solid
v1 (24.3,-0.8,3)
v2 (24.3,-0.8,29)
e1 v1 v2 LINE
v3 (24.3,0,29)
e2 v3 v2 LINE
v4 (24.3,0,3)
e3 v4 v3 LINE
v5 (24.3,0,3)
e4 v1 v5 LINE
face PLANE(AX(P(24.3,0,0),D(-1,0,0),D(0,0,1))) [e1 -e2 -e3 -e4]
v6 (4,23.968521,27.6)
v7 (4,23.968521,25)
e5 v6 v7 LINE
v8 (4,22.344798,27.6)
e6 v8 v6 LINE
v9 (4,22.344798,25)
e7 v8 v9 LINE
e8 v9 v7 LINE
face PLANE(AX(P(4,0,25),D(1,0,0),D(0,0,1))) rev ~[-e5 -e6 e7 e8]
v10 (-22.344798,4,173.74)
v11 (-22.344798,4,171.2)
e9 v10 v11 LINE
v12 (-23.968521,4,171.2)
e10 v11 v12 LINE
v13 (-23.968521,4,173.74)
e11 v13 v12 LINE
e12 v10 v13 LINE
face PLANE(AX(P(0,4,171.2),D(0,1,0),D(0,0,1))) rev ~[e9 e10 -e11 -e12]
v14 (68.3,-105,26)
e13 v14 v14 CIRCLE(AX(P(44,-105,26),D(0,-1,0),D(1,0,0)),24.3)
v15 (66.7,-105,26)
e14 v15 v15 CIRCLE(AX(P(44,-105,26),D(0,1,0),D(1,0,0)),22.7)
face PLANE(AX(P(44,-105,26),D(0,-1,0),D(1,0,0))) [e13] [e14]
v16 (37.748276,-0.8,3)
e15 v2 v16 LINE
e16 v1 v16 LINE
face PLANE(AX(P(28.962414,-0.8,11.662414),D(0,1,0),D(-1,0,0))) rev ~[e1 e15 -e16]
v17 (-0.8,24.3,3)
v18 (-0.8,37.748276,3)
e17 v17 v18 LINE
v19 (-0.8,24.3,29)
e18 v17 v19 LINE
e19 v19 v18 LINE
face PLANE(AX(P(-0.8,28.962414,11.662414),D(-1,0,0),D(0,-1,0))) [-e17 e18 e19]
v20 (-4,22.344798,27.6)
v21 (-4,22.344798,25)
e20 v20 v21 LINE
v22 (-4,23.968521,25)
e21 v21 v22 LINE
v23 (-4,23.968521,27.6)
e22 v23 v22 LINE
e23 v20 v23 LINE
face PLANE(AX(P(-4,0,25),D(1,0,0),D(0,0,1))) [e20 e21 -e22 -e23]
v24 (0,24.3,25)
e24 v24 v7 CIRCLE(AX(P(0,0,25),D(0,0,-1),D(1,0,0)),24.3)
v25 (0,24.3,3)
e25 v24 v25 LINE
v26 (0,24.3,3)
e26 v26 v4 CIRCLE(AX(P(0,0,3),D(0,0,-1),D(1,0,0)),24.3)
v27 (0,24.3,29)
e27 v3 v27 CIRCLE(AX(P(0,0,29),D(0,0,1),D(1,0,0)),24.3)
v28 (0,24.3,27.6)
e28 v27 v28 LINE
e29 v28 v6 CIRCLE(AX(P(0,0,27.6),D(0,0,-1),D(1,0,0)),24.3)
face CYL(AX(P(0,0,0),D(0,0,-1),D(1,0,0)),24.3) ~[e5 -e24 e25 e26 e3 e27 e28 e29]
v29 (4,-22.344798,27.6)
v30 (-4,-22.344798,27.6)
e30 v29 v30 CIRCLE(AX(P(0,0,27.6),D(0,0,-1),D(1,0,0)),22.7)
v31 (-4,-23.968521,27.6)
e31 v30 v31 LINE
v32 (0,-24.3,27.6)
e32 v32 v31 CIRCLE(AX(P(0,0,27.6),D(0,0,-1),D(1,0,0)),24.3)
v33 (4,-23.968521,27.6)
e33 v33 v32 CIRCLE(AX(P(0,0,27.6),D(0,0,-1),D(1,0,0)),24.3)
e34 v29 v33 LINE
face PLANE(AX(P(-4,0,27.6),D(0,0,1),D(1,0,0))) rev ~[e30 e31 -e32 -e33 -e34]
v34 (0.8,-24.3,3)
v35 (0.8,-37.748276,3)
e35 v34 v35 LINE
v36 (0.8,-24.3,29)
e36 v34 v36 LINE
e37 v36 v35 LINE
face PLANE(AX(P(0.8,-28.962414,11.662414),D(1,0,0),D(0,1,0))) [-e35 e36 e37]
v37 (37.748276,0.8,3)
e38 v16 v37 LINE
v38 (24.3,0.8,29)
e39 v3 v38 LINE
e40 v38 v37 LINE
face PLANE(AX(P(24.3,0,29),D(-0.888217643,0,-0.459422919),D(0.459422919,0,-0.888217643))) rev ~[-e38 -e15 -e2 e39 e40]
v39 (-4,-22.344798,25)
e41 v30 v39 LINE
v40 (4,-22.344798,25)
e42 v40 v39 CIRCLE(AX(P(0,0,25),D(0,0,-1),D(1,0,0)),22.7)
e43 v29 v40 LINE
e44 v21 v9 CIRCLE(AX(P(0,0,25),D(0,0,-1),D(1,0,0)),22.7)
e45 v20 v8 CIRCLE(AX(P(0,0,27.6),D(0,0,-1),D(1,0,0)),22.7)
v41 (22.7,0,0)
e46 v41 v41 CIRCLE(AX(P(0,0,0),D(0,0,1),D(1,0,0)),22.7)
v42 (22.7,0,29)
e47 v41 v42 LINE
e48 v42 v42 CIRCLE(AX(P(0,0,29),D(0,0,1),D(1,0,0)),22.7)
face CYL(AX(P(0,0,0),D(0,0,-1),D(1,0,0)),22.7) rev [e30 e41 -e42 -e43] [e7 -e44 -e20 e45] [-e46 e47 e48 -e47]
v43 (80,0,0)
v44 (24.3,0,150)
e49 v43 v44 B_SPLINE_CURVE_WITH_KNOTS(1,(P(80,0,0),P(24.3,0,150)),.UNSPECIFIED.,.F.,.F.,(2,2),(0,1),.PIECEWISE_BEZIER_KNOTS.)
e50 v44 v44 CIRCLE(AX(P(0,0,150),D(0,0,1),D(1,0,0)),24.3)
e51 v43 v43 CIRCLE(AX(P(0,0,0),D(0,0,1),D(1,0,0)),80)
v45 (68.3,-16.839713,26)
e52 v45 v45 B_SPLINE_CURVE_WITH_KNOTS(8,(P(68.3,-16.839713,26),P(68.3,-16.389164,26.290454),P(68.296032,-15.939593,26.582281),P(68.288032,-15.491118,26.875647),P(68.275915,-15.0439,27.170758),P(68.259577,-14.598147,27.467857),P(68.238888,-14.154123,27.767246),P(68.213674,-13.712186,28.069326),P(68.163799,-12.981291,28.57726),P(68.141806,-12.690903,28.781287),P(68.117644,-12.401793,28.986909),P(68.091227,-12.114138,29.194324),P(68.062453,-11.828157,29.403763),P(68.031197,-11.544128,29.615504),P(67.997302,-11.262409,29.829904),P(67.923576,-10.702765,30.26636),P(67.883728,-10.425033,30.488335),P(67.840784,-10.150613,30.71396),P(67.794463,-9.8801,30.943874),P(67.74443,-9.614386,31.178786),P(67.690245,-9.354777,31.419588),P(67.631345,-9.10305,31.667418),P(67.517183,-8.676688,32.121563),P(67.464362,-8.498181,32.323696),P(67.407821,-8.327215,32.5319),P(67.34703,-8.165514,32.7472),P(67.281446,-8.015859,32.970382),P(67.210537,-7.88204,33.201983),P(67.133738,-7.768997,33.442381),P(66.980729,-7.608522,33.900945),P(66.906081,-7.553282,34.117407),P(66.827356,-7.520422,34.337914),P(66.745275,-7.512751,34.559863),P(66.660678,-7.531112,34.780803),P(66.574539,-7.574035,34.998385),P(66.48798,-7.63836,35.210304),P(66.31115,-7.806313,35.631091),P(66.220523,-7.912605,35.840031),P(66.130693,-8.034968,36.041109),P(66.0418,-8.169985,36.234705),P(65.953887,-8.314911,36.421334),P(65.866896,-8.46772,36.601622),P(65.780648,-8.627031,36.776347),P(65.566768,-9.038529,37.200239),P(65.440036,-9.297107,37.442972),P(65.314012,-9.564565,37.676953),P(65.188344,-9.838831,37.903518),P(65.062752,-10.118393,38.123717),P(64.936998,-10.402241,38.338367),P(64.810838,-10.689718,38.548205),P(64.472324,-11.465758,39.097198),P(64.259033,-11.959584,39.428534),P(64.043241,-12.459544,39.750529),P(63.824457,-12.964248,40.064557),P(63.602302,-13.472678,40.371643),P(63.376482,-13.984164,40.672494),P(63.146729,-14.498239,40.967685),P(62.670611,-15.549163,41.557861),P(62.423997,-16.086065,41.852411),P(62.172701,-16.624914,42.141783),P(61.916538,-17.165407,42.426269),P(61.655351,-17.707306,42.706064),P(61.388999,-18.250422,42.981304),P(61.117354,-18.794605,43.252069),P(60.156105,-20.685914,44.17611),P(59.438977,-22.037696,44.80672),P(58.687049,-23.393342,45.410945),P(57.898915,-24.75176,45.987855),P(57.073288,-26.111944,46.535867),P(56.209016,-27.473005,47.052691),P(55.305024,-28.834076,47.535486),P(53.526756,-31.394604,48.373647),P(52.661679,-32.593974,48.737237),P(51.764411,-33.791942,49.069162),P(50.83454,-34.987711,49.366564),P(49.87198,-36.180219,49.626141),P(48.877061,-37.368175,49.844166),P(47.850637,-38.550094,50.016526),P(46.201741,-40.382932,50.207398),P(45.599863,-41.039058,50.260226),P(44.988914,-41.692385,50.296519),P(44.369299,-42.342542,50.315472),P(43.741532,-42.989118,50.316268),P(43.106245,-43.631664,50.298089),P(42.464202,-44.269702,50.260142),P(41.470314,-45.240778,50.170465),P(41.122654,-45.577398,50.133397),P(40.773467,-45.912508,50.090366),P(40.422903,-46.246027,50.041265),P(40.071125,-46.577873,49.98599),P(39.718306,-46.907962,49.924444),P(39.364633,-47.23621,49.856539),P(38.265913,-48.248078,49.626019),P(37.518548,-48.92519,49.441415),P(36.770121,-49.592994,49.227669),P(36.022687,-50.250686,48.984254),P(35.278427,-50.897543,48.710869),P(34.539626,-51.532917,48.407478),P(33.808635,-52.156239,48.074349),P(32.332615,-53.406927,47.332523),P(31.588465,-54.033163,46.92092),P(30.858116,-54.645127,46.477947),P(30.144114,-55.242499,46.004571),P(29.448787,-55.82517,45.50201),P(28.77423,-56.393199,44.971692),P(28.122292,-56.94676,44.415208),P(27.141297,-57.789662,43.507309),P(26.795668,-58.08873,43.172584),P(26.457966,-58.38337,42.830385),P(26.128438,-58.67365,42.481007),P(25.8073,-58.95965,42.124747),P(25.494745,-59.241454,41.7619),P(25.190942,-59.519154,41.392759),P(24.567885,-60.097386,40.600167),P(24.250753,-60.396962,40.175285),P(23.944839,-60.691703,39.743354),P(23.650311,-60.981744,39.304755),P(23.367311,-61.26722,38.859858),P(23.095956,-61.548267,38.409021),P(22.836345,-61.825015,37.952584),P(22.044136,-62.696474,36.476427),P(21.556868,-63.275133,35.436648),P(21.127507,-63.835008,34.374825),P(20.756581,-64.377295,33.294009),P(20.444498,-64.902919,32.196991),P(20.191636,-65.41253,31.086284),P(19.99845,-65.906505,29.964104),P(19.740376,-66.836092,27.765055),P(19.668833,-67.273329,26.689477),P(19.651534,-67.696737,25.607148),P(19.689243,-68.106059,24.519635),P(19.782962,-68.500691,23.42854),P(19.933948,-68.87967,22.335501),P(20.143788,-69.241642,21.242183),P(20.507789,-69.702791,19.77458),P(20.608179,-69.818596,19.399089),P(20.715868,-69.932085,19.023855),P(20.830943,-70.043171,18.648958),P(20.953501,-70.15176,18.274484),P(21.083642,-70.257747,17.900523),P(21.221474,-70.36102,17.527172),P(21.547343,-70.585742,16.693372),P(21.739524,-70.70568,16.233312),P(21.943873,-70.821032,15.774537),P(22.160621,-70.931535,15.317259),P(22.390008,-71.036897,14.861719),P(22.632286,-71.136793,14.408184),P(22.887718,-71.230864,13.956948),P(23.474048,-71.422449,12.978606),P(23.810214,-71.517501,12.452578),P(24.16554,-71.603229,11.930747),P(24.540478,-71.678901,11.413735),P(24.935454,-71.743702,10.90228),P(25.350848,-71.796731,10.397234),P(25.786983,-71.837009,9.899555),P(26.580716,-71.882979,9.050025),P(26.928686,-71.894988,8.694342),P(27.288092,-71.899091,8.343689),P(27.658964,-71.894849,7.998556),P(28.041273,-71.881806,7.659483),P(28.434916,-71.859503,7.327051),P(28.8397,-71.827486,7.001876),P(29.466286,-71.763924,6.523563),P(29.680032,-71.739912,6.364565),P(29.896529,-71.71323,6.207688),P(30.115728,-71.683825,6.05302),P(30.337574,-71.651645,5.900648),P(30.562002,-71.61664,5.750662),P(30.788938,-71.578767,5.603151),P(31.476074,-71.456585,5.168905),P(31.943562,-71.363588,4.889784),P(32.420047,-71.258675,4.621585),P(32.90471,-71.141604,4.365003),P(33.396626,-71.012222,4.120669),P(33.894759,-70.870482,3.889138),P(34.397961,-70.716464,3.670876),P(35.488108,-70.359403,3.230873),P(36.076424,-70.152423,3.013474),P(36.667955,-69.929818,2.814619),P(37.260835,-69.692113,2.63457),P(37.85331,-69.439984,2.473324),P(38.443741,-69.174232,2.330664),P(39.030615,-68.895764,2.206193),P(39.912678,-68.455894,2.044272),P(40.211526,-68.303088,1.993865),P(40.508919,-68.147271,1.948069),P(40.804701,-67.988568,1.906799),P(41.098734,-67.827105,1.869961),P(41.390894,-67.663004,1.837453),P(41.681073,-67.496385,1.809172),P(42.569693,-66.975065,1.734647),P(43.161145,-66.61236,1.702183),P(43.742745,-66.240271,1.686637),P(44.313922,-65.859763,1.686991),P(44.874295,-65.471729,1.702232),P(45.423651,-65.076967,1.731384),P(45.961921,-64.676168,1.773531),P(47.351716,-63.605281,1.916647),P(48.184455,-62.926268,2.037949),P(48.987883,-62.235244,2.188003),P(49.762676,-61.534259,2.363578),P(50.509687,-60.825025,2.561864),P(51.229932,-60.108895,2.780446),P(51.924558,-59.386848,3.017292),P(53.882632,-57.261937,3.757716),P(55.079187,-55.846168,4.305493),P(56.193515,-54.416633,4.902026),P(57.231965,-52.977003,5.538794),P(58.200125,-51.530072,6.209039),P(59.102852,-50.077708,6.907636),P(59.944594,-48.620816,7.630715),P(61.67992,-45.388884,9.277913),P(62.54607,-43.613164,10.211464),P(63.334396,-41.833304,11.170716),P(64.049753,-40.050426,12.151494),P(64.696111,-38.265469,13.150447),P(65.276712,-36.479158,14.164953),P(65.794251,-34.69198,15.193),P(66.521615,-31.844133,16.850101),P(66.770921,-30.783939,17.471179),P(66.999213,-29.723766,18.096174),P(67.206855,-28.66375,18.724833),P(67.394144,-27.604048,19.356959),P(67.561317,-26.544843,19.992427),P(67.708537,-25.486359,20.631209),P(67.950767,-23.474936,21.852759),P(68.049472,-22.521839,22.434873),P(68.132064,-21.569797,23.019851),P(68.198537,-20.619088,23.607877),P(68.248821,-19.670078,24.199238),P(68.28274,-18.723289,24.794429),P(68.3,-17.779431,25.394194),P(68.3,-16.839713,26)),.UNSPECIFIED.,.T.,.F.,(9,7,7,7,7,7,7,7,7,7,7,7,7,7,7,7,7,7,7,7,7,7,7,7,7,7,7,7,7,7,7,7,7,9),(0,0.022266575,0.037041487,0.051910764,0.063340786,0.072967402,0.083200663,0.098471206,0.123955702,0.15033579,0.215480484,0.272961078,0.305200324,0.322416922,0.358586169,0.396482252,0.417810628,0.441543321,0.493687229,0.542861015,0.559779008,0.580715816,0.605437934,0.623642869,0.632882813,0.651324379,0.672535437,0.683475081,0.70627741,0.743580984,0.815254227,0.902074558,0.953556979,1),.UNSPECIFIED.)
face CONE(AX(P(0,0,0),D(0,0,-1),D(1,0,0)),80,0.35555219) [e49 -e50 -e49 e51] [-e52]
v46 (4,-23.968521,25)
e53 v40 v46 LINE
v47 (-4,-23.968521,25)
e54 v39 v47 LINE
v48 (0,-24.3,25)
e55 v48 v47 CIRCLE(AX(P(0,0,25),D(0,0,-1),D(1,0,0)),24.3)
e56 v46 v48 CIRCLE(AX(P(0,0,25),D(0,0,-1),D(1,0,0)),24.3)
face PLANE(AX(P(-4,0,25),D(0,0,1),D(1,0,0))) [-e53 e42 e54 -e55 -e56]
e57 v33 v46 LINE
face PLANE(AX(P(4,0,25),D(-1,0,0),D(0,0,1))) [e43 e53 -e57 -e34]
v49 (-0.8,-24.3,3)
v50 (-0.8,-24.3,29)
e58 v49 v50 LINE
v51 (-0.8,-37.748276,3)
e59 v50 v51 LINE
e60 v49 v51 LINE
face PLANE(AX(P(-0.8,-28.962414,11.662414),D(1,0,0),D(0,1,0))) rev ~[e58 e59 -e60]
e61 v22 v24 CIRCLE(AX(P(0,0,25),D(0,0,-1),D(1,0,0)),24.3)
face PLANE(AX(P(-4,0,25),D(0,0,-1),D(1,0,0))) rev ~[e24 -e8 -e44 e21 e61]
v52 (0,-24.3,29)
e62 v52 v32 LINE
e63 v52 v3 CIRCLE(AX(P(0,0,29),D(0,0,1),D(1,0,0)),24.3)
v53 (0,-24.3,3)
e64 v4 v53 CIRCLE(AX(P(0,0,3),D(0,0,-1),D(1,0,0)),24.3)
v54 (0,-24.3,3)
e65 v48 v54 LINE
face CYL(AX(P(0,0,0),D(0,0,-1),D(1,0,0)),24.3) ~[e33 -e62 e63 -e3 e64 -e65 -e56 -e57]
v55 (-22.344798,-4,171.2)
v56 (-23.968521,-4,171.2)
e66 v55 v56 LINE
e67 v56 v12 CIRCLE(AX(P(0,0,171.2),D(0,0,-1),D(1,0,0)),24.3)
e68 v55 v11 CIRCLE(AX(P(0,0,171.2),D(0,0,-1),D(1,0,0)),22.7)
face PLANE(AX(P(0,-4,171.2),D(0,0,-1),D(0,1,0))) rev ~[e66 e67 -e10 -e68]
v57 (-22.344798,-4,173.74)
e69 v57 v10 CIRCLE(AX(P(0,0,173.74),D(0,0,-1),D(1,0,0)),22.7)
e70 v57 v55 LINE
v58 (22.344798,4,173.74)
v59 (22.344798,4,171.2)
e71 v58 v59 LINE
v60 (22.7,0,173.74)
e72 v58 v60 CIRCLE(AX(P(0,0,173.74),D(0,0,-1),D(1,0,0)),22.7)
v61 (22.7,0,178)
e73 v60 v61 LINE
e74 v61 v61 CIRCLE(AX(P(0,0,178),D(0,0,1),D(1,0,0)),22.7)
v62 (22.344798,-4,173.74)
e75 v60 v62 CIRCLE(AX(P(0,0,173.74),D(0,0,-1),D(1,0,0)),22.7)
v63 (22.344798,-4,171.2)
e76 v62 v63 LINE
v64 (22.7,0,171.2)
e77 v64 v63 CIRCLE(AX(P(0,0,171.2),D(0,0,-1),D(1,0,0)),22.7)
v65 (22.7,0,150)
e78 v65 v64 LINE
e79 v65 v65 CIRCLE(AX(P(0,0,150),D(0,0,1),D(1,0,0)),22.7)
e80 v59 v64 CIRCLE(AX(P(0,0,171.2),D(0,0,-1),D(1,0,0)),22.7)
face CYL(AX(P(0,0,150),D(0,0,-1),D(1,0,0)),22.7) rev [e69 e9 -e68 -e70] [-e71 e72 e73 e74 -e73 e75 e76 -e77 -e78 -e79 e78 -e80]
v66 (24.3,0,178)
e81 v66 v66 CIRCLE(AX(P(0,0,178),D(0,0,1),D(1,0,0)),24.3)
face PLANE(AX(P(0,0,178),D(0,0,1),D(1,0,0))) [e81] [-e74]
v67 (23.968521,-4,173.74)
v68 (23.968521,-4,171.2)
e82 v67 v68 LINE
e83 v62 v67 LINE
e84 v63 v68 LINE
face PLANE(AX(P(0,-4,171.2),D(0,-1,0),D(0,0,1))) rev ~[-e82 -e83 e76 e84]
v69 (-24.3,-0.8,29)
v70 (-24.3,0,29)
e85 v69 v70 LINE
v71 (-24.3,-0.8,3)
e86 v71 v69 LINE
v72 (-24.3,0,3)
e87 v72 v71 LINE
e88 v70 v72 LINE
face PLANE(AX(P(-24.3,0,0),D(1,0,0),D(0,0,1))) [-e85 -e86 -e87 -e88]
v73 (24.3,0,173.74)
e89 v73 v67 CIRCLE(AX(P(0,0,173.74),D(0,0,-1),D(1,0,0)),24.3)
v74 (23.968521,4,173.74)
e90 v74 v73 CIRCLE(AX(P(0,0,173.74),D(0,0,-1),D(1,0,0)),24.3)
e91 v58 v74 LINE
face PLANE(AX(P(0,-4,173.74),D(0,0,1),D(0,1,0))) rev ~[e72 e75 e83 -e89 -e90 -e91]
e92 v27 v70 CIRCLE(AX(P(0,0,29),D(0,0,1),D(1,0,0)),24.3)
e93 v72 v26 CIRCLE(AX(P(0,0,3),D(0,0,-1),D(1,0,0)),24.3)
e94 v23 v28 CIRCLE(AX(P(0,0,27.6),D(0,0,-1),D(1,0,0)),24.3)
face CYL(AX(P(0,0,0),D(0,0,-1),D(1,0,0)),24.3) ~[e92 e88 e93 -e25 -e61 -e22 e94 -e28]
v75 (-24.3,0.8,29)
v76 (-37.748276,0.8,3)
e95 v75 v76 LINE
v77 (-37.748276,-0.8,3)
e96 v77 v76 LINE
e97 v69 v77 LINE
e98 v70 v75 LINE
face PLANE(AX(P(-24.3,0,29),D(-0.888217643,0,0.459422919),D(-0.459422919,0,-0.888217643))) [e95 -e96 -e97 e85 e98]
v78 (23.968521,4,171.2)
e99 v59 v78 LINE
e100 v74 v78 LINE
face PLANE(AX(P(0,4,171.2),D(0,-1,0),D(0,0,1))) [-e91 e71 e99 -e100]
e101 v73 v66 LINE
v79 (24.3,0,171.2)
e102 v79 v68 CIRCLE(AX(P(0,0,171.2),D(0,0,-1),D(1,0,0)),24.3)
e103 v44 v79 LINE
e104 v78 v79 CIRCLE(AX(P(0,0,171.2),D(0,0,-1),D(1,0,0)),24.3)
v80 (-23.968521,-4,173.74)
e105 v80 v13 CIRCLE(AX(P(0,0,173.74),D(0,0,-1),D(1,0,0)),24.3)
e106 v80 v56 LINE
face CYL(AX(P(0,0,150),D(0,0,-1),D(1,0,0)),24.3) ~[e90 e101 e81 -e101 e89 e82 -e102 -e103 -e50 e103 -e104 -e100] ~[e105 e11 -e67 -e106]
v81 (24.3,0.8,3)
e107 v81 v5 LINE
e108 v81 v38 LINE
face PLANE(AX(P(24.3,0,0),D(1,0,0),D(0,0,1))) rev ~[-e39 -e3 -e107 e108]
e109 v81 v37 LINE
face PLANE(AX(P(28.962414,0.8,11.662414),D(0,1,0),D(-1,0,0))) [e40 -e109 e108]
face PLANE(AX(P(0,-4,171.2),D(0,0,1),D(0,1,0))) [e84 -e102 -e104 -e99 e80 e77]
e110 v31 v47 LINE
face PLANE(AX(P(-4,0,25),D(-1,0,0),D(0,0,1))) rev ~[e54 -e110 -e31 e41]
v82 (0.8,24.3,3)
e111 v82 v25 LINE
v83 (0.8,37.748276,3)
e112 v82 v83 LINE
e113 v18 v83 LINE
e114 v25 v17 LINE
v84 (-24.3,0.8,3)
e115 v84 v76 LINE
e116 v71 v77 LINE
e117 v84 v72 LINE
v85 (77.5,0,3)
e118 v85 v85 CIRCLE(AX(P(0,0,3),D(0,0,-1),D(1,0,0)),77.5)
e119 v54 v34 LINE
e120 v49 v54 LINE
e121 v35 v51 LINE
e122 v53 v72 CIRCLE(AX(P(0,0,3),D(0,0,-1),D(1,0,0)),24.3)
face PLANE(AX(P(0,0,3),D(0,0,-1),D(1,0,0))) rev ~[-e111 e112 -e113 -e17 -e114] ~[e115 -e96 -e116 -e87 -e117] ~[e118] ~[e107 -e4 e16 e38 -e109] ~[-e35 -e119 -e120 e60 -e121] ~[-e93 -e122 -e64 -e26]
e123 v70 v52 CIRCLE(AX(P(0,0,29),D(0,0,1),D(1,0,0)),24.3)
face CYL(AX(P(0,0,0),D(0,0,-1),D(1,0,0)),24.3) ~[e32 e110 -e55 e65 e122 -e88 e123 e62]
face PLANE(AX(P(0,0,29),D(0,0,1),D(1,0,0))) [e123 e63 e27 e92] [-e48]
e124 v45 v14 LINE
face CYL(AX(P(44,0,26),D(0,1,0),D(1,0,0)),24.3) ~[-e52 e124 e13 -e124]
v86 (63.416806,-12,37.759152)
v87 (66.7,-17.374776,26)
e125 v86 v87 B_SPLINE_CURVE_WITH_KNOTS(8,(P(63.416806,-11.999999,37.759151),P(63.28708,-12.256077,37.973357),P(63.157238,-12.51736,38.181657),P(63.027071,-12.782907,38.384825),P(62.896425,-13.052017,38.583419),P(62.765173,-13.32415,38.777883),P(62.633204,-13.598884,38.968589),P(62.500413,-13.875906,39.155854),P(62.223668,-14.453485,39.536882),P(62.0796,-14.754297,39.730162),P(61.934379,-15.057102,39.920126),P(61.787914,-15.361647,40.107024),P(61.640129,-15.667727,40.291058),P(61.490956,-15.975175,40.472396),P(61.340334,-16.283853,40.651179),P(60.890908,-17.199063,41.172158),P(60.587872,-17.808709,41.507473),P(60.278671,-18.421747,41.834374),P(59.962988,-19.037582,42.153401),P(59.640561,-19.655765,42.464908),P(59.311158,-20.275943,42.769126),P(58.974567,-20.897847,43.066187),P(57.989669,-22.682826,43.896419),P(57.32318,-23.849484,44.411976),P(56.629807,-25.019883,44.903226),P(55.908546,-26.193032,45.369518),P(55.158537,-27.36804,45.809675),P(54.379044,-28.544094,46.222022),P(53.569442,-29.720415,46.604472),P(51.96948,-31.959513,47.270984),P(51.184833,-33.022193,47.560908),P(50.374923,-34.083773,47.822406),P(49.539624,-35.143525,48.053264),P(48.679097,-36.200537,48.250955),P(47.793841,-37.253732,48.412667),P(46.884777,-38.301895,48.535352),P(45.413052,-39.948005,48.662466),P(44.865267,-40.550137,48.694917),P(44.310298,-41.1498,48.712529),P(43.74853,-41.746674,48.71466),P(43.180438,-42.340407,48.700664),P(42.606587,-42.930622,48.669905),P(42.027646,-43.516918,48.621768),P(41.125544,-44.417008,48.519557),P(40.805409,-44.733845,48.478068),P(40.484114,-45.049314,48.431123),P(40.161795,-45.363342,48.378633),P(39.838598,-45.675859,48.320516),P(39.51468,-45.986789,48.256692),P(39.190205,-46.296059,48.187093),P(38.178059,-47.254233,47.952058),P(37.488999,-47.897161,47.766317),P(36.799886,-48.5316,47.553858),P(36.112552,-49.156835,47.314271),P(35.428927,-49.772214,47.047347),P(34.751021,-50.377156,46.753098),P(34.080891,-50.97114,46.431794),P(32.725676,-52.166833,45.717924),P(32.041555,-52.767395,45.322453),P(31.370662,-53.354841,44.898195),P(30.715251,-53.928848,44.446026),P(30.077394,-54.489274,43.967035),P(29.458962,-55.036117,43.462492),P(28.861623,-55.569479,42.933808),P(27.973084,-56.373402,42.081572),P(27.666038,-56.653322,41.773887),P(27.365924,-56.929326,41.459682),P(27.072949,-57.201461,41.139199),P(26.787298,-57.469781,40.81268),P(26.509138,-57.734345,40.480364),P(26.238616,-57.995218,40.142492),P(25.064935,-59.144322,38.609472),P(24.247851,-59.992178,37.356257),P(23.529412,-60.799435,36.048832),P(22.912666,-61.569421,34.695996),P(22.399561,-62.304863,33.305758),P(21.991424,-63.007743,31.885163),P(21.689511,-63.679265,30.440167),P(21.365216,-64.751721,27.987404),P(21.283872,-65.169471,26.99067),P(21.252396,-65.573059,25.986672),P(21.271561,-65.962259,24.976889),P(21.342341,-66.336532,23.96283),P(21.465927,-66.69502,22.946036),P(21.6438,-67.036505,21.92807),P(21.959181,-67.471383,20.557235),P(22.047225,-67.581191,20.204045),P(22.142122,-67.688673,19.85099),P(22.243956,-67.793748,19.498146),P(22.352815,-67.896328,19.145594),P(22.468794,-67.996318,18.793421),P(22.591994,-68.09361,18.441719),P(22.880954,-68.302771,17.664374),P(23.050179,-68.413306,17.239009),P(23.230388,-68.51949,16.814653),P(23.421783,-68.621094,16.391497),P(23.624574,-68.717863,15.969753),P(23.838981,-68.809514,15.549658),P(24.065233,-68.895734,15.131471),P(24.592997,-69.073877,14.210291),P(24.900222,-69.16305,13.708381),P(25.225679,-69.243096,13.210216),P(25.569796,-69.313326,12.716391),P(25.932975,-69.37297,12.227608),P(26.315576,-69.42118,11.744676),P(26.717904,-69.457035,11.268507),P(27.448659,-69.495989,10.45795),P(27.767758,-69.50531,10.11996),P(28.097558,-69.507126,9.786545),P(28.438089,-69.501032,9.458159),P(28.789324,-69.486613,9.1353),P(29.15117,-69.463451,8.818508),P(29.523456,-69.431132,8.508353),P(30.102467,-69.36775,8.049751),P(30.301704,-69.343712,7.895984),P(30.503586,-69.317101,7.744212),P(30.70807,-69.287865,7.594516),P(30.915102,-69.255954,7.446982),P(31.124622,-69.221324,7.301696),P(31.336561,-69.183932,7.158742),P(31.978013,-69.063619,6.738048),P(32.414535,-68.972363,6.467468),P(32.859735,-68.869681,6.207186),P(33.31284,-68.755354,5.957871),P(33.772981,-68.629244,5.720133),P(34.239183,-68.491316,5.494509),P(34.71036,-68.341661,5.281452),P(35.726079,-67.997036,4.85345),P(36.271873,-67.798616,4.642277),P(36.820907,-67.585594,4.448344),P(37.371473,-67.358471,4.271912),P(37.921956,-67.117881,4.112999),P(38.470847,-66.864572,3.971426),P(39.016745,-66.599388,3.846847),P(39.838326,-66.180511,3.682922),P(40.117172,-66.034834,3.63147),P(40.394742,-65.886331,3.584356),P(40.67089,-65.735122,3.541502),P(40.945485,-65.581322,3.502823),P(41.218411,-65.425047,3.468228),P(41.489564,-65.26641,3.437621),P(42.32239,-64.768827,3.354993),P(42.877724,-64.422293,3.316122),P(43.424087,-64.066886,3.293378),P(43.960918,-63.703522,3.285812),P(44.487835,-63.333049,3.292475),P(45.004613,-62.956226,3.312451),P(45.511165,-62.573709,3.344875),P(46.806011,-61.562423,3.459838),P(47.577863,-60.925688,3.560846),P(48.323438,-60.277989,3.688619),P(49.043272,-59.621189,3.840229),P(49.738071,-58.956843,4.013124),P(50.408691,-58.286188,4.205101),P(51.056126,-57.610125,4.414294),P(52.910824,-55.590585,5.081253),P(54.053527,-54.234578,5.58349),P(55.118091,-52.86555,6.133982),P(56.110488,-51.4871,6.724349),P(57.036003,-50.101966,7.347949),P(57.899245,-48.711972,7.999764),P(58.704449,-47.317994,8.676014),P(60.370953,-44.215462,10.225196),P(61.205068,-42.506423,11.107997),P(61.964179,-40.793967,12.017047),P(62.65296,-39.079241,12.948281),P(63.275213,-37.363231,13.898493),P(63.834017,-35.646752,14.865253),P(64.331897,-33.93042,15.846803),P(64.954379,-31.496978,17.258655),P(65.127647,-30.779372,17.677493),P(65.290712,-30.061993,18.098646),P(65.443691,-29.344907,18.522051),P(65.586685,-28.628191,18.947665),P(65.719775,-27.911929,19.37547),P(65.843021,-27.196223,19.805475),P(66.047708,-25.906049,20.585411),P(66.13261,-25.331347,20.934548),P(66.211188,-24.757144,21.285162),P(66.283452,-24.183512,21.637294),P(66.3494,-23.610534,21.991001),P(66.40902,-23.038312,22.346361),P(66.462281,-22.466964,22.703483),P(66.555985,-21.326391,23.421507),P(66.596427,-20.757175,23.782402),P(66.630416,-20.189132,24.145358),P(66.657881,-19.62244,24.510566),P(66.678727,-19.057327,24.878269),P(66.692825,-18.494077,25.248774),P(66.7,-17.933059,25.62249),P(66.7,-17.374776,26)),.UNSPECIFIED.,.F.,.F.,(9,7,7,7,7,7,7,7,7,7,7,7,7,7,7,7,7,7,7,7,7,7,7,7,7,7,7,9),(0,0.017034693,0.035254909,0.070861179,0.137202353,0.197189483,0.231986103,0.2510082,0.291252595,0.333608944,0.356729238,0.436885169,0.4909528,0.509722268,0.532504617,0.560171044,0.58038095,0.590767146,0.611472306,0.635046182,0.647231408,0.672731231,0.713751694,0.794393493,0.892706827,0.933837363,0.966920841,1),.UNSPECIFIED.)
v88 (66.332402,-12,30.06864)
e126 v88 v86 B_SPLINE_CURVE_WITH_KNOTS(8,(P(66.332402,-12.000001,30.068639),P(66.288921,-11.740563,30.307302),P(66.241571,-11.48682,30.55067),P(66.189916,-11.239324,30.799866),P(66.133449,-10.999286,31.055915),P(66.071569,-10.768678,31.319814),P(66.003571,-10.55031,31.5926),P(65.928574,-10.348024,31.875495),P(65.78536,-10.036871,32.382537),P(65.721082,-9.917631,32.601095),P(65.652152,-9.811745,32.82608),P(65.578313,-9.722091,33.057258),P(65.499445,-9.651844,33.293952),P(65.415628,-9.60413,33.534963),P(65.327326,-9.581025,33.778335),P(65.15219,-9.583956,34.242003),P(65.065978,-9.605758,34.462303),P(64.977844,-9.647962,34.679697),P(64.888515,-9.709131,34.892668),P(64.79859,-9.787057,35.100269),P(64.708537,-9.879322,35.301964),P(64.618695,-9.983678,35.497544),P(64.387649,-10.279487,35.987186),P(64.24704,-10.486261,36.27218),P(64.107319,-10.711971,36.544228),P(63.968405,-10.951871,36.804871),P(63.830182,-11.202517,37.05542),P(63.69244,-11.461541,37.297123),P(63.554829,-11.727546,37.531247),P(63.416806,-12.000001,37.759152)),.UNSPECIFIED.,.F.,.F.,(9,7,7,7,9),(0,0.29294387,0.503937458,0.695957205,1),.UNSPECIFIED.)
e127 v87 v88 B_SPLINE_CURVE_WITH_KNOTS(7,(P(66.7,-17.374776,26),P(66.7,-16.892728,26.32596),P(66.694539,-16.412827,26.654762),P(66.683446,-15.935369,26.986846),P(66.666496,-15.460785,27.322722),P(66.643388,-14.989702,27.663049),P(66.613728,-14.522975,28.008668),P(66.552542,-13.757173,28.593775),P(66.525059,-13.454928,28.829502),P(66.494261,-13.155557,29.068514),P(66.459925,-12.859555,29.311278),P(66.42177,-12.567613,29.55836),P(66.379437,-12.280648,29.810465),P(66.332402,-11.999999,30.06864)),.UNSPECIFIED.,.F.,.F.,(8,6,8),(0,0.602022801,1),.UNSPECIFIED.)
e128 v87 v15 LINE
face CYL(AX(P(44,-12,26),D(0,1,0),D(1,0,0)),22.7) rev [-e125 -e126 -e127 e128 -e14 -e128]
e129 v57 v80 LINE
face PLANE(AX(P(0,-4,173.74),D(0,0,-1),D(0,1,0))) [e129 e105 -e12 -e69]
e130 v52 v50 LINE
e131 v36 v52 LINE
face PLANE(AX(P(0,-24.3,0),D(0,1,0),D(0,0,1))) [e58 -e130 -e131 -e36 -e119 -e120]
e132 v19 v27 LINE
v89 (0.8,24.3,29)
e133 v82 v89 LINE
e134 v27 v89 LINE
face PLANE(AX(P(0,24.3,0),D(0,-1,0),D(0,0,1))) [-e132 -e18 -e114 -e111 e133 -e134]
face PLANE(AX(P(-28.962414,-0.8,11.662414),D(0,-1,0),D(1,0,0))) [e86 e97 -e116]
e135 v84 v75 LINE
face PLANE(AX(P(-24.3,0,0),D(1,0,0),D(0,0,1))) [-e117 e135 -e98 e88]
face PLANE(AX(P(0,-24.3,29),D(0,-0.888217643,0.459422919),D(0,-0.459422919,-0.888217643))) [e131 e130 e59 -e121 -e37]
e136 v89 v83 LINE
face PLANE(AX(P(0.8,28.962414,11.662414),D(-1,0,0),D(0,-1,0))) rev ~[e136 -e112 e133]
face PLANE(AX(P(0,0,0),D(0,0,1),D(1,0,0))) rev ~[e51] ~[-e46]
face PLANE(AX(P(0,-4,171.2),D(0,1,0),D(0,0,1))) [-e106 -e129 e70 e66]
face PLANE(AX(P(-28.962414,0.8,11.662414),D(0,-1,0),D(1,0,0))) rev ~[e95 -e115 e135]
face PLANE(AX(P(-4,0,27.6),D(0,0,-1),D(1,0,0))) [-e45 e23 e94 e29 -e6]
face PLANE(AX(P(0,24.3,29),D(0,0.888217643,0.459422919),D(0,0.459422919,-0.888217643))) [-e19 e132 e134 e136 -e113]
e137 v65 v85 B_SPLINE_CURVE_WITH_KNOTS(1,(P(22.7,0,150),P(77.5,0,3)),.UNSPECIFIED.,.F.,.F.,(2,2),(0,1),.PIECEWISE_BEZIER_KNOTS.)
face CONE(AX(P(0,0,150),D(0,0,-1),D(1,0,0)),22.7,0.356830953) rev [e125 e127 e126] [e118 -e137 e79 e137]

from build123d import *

# Parameters (mm, degrees)
SKETCH002_R          = 80
SKETCH003_R          = 24.3
SKETCH004_R          = 24.3
PAD001_DEPTH         = 105
SKETCH005_R          = 22.7
SKETCH006_R          = 77.5
SKETCH011_R          = 22.7
POCKET001_DEPTH      = 5
POCKET001_DEPTH_BACK = 100
SKETCH008_R          = 22.7
POCKET002_DEPTH      = 5
SKETCH009_R          = 24.3
SKETCH009_R_2        = 22.7
PAD002_DEPTH         = 28
SKETCH010_W          = 8
SKETCH010_H          = 2.54
POCKET003_DEPTH      = 100
POCKET003_DEPTH_BACK = 100
SKETCH_R             = 24.3
SKETCH_R_2           = 22.7
PAD_DEPTH            = 29
SKETCH001_W          = 8
SKETCH001_H          = 2.6
POCKET_DEPTH         = 100
POCKET_DEPTH_BACK    = 100
PAD003_DEPTH         = 0.8
PAD003_DEPTH_BACK    = 0.8
POLARPATTERN_COUNT   = 4


with BuildPart() as body001:
    # Sketch002 → AdditiveLoft section 0
    with BuildSketch(Plane.XY):
        Circle(SKETCH002_R)
    # Sketch003 → AdditiveLoft section 1
    with BuildSketch(Plane.XY.offset(150)):
        Circle(SKETCH003_R)
    loft()

    # Sketch004 → Pad001 (new body)
    with BuildSketch(Plane.XZ):
        with Locations((44, 26)):
            Circle(SKETCH004_R)
    extrude(amount=PAD001_DEPTH)

    # Sketch005 (on Face3 of Pad001) → SubtractiveLoft section 0
    with BuildSketch(Plane.XY.offset(150)):
        Circle(SKETCH005_R)
    # Sketch006 (on Face1 of Pad001) → SubtractiveLoft section 1
    with BuildSketch(Plane(origin=(0, 0, 3), x_dir=(1, 0, 0), z_dir=(0, 0, -1))):
        Circle(SKETCH006_R)
    loft(mode=Mode.SUBTRACT)

    # Sketch011 → Pocket001 (cut, two sides)
    with BuildSketch(Plane.XZ.offset(12)) as pocket001_sk:
        with Locations((44, 26)):
            Circle(SKETCH011_R)
    extrude(amount=-POCKET001_DEPTH, mode=Mode.SUBTRACT)
    extrude(pocket001_sk.sketch, amount=POCKET001_DEPTH_BACK, mode=Mode.SUBTRACT)

    # Sketch008 → Pocket002 (cut)
    with BuildSketch(Plane.XY):
        Circle(SKETCH008_R)
    extrude(amount=POCKET002_DEPTH, mode=Mode.SUBTRACT)

    # Sketch009 → Pad002 (join)
    with BuildSketch(Plane.XY.offset(150)):
        Circle(SKETCH009_R)
        Circle(SKETCH009_R_2, mode=Mode.SUBTRACT)
    extrude(amount=PAD002_DEPTH)

    # Sketch010 → Pocket003 (cut, two sides)
    with BuildSketch(Plane.YZ) as pocket003_sk:
        with Locations((0, 172.47)):
            Rectangle(SKETCH010_W, SKETCH010_H)
    extrude(amount=-POCKET003_DEPTH, mode=Mode.SUBTRACT)
    extrude(pocket003_sk.sketch, amount=POCKET003_DEPTH_BACK, mode=Mode.SUBTRACT)


with BuildPart() as body:
    # Sketch → Pad (new body)
    with BuildSketch(Plane.XY):
        Circle(SKETCH_R)
        Circle(SKETCH_R_2, mode=Mode.SUBTRACT)
    extrude(amount=PAD_DEPTH)

    # Sketch001 → Pocket (cut, two sides)
    with BuildSketch(Plane.XZ) as pocket_sk:
        with Locations((0, 26.3)):
            Rectangle(SKETCH001_W, SKETCH001_H)
    extrude(amount=-POCKET_DEPTH, mode=Mode.SUBTRACT)
    extrude(pocket_sk.sketch, amount=POCKET_DEPTH_BACK, mode=Mode.SUBTRACT)

    # Boolean: union Body001
    add(body001.part)

    # Sketch012 → Pad003 (join, two sides)
    with BuildSketch(Plane.XZ) as pad003_sk:
        Polygon((24.3, 29), (39.3, 0), (24.3, 0), align=None)
    pad003 = extrude(amount=PAD003_DEPTH) + extrude(pad003_sk.sketch, amount=-PAD003_DEPTH_BACK)

    # PolarPattern: Pad003 ×4 about axis
    polarpattern_axis = Axis((0, 0, 0), (0, 0, 1))
    for i in range(1, POLARPATTERN_COUNT):
        add(pad003.rotate(polarpattern_axis, i * 360 / POLARPATTERN_COUNT))


solid = body.part
